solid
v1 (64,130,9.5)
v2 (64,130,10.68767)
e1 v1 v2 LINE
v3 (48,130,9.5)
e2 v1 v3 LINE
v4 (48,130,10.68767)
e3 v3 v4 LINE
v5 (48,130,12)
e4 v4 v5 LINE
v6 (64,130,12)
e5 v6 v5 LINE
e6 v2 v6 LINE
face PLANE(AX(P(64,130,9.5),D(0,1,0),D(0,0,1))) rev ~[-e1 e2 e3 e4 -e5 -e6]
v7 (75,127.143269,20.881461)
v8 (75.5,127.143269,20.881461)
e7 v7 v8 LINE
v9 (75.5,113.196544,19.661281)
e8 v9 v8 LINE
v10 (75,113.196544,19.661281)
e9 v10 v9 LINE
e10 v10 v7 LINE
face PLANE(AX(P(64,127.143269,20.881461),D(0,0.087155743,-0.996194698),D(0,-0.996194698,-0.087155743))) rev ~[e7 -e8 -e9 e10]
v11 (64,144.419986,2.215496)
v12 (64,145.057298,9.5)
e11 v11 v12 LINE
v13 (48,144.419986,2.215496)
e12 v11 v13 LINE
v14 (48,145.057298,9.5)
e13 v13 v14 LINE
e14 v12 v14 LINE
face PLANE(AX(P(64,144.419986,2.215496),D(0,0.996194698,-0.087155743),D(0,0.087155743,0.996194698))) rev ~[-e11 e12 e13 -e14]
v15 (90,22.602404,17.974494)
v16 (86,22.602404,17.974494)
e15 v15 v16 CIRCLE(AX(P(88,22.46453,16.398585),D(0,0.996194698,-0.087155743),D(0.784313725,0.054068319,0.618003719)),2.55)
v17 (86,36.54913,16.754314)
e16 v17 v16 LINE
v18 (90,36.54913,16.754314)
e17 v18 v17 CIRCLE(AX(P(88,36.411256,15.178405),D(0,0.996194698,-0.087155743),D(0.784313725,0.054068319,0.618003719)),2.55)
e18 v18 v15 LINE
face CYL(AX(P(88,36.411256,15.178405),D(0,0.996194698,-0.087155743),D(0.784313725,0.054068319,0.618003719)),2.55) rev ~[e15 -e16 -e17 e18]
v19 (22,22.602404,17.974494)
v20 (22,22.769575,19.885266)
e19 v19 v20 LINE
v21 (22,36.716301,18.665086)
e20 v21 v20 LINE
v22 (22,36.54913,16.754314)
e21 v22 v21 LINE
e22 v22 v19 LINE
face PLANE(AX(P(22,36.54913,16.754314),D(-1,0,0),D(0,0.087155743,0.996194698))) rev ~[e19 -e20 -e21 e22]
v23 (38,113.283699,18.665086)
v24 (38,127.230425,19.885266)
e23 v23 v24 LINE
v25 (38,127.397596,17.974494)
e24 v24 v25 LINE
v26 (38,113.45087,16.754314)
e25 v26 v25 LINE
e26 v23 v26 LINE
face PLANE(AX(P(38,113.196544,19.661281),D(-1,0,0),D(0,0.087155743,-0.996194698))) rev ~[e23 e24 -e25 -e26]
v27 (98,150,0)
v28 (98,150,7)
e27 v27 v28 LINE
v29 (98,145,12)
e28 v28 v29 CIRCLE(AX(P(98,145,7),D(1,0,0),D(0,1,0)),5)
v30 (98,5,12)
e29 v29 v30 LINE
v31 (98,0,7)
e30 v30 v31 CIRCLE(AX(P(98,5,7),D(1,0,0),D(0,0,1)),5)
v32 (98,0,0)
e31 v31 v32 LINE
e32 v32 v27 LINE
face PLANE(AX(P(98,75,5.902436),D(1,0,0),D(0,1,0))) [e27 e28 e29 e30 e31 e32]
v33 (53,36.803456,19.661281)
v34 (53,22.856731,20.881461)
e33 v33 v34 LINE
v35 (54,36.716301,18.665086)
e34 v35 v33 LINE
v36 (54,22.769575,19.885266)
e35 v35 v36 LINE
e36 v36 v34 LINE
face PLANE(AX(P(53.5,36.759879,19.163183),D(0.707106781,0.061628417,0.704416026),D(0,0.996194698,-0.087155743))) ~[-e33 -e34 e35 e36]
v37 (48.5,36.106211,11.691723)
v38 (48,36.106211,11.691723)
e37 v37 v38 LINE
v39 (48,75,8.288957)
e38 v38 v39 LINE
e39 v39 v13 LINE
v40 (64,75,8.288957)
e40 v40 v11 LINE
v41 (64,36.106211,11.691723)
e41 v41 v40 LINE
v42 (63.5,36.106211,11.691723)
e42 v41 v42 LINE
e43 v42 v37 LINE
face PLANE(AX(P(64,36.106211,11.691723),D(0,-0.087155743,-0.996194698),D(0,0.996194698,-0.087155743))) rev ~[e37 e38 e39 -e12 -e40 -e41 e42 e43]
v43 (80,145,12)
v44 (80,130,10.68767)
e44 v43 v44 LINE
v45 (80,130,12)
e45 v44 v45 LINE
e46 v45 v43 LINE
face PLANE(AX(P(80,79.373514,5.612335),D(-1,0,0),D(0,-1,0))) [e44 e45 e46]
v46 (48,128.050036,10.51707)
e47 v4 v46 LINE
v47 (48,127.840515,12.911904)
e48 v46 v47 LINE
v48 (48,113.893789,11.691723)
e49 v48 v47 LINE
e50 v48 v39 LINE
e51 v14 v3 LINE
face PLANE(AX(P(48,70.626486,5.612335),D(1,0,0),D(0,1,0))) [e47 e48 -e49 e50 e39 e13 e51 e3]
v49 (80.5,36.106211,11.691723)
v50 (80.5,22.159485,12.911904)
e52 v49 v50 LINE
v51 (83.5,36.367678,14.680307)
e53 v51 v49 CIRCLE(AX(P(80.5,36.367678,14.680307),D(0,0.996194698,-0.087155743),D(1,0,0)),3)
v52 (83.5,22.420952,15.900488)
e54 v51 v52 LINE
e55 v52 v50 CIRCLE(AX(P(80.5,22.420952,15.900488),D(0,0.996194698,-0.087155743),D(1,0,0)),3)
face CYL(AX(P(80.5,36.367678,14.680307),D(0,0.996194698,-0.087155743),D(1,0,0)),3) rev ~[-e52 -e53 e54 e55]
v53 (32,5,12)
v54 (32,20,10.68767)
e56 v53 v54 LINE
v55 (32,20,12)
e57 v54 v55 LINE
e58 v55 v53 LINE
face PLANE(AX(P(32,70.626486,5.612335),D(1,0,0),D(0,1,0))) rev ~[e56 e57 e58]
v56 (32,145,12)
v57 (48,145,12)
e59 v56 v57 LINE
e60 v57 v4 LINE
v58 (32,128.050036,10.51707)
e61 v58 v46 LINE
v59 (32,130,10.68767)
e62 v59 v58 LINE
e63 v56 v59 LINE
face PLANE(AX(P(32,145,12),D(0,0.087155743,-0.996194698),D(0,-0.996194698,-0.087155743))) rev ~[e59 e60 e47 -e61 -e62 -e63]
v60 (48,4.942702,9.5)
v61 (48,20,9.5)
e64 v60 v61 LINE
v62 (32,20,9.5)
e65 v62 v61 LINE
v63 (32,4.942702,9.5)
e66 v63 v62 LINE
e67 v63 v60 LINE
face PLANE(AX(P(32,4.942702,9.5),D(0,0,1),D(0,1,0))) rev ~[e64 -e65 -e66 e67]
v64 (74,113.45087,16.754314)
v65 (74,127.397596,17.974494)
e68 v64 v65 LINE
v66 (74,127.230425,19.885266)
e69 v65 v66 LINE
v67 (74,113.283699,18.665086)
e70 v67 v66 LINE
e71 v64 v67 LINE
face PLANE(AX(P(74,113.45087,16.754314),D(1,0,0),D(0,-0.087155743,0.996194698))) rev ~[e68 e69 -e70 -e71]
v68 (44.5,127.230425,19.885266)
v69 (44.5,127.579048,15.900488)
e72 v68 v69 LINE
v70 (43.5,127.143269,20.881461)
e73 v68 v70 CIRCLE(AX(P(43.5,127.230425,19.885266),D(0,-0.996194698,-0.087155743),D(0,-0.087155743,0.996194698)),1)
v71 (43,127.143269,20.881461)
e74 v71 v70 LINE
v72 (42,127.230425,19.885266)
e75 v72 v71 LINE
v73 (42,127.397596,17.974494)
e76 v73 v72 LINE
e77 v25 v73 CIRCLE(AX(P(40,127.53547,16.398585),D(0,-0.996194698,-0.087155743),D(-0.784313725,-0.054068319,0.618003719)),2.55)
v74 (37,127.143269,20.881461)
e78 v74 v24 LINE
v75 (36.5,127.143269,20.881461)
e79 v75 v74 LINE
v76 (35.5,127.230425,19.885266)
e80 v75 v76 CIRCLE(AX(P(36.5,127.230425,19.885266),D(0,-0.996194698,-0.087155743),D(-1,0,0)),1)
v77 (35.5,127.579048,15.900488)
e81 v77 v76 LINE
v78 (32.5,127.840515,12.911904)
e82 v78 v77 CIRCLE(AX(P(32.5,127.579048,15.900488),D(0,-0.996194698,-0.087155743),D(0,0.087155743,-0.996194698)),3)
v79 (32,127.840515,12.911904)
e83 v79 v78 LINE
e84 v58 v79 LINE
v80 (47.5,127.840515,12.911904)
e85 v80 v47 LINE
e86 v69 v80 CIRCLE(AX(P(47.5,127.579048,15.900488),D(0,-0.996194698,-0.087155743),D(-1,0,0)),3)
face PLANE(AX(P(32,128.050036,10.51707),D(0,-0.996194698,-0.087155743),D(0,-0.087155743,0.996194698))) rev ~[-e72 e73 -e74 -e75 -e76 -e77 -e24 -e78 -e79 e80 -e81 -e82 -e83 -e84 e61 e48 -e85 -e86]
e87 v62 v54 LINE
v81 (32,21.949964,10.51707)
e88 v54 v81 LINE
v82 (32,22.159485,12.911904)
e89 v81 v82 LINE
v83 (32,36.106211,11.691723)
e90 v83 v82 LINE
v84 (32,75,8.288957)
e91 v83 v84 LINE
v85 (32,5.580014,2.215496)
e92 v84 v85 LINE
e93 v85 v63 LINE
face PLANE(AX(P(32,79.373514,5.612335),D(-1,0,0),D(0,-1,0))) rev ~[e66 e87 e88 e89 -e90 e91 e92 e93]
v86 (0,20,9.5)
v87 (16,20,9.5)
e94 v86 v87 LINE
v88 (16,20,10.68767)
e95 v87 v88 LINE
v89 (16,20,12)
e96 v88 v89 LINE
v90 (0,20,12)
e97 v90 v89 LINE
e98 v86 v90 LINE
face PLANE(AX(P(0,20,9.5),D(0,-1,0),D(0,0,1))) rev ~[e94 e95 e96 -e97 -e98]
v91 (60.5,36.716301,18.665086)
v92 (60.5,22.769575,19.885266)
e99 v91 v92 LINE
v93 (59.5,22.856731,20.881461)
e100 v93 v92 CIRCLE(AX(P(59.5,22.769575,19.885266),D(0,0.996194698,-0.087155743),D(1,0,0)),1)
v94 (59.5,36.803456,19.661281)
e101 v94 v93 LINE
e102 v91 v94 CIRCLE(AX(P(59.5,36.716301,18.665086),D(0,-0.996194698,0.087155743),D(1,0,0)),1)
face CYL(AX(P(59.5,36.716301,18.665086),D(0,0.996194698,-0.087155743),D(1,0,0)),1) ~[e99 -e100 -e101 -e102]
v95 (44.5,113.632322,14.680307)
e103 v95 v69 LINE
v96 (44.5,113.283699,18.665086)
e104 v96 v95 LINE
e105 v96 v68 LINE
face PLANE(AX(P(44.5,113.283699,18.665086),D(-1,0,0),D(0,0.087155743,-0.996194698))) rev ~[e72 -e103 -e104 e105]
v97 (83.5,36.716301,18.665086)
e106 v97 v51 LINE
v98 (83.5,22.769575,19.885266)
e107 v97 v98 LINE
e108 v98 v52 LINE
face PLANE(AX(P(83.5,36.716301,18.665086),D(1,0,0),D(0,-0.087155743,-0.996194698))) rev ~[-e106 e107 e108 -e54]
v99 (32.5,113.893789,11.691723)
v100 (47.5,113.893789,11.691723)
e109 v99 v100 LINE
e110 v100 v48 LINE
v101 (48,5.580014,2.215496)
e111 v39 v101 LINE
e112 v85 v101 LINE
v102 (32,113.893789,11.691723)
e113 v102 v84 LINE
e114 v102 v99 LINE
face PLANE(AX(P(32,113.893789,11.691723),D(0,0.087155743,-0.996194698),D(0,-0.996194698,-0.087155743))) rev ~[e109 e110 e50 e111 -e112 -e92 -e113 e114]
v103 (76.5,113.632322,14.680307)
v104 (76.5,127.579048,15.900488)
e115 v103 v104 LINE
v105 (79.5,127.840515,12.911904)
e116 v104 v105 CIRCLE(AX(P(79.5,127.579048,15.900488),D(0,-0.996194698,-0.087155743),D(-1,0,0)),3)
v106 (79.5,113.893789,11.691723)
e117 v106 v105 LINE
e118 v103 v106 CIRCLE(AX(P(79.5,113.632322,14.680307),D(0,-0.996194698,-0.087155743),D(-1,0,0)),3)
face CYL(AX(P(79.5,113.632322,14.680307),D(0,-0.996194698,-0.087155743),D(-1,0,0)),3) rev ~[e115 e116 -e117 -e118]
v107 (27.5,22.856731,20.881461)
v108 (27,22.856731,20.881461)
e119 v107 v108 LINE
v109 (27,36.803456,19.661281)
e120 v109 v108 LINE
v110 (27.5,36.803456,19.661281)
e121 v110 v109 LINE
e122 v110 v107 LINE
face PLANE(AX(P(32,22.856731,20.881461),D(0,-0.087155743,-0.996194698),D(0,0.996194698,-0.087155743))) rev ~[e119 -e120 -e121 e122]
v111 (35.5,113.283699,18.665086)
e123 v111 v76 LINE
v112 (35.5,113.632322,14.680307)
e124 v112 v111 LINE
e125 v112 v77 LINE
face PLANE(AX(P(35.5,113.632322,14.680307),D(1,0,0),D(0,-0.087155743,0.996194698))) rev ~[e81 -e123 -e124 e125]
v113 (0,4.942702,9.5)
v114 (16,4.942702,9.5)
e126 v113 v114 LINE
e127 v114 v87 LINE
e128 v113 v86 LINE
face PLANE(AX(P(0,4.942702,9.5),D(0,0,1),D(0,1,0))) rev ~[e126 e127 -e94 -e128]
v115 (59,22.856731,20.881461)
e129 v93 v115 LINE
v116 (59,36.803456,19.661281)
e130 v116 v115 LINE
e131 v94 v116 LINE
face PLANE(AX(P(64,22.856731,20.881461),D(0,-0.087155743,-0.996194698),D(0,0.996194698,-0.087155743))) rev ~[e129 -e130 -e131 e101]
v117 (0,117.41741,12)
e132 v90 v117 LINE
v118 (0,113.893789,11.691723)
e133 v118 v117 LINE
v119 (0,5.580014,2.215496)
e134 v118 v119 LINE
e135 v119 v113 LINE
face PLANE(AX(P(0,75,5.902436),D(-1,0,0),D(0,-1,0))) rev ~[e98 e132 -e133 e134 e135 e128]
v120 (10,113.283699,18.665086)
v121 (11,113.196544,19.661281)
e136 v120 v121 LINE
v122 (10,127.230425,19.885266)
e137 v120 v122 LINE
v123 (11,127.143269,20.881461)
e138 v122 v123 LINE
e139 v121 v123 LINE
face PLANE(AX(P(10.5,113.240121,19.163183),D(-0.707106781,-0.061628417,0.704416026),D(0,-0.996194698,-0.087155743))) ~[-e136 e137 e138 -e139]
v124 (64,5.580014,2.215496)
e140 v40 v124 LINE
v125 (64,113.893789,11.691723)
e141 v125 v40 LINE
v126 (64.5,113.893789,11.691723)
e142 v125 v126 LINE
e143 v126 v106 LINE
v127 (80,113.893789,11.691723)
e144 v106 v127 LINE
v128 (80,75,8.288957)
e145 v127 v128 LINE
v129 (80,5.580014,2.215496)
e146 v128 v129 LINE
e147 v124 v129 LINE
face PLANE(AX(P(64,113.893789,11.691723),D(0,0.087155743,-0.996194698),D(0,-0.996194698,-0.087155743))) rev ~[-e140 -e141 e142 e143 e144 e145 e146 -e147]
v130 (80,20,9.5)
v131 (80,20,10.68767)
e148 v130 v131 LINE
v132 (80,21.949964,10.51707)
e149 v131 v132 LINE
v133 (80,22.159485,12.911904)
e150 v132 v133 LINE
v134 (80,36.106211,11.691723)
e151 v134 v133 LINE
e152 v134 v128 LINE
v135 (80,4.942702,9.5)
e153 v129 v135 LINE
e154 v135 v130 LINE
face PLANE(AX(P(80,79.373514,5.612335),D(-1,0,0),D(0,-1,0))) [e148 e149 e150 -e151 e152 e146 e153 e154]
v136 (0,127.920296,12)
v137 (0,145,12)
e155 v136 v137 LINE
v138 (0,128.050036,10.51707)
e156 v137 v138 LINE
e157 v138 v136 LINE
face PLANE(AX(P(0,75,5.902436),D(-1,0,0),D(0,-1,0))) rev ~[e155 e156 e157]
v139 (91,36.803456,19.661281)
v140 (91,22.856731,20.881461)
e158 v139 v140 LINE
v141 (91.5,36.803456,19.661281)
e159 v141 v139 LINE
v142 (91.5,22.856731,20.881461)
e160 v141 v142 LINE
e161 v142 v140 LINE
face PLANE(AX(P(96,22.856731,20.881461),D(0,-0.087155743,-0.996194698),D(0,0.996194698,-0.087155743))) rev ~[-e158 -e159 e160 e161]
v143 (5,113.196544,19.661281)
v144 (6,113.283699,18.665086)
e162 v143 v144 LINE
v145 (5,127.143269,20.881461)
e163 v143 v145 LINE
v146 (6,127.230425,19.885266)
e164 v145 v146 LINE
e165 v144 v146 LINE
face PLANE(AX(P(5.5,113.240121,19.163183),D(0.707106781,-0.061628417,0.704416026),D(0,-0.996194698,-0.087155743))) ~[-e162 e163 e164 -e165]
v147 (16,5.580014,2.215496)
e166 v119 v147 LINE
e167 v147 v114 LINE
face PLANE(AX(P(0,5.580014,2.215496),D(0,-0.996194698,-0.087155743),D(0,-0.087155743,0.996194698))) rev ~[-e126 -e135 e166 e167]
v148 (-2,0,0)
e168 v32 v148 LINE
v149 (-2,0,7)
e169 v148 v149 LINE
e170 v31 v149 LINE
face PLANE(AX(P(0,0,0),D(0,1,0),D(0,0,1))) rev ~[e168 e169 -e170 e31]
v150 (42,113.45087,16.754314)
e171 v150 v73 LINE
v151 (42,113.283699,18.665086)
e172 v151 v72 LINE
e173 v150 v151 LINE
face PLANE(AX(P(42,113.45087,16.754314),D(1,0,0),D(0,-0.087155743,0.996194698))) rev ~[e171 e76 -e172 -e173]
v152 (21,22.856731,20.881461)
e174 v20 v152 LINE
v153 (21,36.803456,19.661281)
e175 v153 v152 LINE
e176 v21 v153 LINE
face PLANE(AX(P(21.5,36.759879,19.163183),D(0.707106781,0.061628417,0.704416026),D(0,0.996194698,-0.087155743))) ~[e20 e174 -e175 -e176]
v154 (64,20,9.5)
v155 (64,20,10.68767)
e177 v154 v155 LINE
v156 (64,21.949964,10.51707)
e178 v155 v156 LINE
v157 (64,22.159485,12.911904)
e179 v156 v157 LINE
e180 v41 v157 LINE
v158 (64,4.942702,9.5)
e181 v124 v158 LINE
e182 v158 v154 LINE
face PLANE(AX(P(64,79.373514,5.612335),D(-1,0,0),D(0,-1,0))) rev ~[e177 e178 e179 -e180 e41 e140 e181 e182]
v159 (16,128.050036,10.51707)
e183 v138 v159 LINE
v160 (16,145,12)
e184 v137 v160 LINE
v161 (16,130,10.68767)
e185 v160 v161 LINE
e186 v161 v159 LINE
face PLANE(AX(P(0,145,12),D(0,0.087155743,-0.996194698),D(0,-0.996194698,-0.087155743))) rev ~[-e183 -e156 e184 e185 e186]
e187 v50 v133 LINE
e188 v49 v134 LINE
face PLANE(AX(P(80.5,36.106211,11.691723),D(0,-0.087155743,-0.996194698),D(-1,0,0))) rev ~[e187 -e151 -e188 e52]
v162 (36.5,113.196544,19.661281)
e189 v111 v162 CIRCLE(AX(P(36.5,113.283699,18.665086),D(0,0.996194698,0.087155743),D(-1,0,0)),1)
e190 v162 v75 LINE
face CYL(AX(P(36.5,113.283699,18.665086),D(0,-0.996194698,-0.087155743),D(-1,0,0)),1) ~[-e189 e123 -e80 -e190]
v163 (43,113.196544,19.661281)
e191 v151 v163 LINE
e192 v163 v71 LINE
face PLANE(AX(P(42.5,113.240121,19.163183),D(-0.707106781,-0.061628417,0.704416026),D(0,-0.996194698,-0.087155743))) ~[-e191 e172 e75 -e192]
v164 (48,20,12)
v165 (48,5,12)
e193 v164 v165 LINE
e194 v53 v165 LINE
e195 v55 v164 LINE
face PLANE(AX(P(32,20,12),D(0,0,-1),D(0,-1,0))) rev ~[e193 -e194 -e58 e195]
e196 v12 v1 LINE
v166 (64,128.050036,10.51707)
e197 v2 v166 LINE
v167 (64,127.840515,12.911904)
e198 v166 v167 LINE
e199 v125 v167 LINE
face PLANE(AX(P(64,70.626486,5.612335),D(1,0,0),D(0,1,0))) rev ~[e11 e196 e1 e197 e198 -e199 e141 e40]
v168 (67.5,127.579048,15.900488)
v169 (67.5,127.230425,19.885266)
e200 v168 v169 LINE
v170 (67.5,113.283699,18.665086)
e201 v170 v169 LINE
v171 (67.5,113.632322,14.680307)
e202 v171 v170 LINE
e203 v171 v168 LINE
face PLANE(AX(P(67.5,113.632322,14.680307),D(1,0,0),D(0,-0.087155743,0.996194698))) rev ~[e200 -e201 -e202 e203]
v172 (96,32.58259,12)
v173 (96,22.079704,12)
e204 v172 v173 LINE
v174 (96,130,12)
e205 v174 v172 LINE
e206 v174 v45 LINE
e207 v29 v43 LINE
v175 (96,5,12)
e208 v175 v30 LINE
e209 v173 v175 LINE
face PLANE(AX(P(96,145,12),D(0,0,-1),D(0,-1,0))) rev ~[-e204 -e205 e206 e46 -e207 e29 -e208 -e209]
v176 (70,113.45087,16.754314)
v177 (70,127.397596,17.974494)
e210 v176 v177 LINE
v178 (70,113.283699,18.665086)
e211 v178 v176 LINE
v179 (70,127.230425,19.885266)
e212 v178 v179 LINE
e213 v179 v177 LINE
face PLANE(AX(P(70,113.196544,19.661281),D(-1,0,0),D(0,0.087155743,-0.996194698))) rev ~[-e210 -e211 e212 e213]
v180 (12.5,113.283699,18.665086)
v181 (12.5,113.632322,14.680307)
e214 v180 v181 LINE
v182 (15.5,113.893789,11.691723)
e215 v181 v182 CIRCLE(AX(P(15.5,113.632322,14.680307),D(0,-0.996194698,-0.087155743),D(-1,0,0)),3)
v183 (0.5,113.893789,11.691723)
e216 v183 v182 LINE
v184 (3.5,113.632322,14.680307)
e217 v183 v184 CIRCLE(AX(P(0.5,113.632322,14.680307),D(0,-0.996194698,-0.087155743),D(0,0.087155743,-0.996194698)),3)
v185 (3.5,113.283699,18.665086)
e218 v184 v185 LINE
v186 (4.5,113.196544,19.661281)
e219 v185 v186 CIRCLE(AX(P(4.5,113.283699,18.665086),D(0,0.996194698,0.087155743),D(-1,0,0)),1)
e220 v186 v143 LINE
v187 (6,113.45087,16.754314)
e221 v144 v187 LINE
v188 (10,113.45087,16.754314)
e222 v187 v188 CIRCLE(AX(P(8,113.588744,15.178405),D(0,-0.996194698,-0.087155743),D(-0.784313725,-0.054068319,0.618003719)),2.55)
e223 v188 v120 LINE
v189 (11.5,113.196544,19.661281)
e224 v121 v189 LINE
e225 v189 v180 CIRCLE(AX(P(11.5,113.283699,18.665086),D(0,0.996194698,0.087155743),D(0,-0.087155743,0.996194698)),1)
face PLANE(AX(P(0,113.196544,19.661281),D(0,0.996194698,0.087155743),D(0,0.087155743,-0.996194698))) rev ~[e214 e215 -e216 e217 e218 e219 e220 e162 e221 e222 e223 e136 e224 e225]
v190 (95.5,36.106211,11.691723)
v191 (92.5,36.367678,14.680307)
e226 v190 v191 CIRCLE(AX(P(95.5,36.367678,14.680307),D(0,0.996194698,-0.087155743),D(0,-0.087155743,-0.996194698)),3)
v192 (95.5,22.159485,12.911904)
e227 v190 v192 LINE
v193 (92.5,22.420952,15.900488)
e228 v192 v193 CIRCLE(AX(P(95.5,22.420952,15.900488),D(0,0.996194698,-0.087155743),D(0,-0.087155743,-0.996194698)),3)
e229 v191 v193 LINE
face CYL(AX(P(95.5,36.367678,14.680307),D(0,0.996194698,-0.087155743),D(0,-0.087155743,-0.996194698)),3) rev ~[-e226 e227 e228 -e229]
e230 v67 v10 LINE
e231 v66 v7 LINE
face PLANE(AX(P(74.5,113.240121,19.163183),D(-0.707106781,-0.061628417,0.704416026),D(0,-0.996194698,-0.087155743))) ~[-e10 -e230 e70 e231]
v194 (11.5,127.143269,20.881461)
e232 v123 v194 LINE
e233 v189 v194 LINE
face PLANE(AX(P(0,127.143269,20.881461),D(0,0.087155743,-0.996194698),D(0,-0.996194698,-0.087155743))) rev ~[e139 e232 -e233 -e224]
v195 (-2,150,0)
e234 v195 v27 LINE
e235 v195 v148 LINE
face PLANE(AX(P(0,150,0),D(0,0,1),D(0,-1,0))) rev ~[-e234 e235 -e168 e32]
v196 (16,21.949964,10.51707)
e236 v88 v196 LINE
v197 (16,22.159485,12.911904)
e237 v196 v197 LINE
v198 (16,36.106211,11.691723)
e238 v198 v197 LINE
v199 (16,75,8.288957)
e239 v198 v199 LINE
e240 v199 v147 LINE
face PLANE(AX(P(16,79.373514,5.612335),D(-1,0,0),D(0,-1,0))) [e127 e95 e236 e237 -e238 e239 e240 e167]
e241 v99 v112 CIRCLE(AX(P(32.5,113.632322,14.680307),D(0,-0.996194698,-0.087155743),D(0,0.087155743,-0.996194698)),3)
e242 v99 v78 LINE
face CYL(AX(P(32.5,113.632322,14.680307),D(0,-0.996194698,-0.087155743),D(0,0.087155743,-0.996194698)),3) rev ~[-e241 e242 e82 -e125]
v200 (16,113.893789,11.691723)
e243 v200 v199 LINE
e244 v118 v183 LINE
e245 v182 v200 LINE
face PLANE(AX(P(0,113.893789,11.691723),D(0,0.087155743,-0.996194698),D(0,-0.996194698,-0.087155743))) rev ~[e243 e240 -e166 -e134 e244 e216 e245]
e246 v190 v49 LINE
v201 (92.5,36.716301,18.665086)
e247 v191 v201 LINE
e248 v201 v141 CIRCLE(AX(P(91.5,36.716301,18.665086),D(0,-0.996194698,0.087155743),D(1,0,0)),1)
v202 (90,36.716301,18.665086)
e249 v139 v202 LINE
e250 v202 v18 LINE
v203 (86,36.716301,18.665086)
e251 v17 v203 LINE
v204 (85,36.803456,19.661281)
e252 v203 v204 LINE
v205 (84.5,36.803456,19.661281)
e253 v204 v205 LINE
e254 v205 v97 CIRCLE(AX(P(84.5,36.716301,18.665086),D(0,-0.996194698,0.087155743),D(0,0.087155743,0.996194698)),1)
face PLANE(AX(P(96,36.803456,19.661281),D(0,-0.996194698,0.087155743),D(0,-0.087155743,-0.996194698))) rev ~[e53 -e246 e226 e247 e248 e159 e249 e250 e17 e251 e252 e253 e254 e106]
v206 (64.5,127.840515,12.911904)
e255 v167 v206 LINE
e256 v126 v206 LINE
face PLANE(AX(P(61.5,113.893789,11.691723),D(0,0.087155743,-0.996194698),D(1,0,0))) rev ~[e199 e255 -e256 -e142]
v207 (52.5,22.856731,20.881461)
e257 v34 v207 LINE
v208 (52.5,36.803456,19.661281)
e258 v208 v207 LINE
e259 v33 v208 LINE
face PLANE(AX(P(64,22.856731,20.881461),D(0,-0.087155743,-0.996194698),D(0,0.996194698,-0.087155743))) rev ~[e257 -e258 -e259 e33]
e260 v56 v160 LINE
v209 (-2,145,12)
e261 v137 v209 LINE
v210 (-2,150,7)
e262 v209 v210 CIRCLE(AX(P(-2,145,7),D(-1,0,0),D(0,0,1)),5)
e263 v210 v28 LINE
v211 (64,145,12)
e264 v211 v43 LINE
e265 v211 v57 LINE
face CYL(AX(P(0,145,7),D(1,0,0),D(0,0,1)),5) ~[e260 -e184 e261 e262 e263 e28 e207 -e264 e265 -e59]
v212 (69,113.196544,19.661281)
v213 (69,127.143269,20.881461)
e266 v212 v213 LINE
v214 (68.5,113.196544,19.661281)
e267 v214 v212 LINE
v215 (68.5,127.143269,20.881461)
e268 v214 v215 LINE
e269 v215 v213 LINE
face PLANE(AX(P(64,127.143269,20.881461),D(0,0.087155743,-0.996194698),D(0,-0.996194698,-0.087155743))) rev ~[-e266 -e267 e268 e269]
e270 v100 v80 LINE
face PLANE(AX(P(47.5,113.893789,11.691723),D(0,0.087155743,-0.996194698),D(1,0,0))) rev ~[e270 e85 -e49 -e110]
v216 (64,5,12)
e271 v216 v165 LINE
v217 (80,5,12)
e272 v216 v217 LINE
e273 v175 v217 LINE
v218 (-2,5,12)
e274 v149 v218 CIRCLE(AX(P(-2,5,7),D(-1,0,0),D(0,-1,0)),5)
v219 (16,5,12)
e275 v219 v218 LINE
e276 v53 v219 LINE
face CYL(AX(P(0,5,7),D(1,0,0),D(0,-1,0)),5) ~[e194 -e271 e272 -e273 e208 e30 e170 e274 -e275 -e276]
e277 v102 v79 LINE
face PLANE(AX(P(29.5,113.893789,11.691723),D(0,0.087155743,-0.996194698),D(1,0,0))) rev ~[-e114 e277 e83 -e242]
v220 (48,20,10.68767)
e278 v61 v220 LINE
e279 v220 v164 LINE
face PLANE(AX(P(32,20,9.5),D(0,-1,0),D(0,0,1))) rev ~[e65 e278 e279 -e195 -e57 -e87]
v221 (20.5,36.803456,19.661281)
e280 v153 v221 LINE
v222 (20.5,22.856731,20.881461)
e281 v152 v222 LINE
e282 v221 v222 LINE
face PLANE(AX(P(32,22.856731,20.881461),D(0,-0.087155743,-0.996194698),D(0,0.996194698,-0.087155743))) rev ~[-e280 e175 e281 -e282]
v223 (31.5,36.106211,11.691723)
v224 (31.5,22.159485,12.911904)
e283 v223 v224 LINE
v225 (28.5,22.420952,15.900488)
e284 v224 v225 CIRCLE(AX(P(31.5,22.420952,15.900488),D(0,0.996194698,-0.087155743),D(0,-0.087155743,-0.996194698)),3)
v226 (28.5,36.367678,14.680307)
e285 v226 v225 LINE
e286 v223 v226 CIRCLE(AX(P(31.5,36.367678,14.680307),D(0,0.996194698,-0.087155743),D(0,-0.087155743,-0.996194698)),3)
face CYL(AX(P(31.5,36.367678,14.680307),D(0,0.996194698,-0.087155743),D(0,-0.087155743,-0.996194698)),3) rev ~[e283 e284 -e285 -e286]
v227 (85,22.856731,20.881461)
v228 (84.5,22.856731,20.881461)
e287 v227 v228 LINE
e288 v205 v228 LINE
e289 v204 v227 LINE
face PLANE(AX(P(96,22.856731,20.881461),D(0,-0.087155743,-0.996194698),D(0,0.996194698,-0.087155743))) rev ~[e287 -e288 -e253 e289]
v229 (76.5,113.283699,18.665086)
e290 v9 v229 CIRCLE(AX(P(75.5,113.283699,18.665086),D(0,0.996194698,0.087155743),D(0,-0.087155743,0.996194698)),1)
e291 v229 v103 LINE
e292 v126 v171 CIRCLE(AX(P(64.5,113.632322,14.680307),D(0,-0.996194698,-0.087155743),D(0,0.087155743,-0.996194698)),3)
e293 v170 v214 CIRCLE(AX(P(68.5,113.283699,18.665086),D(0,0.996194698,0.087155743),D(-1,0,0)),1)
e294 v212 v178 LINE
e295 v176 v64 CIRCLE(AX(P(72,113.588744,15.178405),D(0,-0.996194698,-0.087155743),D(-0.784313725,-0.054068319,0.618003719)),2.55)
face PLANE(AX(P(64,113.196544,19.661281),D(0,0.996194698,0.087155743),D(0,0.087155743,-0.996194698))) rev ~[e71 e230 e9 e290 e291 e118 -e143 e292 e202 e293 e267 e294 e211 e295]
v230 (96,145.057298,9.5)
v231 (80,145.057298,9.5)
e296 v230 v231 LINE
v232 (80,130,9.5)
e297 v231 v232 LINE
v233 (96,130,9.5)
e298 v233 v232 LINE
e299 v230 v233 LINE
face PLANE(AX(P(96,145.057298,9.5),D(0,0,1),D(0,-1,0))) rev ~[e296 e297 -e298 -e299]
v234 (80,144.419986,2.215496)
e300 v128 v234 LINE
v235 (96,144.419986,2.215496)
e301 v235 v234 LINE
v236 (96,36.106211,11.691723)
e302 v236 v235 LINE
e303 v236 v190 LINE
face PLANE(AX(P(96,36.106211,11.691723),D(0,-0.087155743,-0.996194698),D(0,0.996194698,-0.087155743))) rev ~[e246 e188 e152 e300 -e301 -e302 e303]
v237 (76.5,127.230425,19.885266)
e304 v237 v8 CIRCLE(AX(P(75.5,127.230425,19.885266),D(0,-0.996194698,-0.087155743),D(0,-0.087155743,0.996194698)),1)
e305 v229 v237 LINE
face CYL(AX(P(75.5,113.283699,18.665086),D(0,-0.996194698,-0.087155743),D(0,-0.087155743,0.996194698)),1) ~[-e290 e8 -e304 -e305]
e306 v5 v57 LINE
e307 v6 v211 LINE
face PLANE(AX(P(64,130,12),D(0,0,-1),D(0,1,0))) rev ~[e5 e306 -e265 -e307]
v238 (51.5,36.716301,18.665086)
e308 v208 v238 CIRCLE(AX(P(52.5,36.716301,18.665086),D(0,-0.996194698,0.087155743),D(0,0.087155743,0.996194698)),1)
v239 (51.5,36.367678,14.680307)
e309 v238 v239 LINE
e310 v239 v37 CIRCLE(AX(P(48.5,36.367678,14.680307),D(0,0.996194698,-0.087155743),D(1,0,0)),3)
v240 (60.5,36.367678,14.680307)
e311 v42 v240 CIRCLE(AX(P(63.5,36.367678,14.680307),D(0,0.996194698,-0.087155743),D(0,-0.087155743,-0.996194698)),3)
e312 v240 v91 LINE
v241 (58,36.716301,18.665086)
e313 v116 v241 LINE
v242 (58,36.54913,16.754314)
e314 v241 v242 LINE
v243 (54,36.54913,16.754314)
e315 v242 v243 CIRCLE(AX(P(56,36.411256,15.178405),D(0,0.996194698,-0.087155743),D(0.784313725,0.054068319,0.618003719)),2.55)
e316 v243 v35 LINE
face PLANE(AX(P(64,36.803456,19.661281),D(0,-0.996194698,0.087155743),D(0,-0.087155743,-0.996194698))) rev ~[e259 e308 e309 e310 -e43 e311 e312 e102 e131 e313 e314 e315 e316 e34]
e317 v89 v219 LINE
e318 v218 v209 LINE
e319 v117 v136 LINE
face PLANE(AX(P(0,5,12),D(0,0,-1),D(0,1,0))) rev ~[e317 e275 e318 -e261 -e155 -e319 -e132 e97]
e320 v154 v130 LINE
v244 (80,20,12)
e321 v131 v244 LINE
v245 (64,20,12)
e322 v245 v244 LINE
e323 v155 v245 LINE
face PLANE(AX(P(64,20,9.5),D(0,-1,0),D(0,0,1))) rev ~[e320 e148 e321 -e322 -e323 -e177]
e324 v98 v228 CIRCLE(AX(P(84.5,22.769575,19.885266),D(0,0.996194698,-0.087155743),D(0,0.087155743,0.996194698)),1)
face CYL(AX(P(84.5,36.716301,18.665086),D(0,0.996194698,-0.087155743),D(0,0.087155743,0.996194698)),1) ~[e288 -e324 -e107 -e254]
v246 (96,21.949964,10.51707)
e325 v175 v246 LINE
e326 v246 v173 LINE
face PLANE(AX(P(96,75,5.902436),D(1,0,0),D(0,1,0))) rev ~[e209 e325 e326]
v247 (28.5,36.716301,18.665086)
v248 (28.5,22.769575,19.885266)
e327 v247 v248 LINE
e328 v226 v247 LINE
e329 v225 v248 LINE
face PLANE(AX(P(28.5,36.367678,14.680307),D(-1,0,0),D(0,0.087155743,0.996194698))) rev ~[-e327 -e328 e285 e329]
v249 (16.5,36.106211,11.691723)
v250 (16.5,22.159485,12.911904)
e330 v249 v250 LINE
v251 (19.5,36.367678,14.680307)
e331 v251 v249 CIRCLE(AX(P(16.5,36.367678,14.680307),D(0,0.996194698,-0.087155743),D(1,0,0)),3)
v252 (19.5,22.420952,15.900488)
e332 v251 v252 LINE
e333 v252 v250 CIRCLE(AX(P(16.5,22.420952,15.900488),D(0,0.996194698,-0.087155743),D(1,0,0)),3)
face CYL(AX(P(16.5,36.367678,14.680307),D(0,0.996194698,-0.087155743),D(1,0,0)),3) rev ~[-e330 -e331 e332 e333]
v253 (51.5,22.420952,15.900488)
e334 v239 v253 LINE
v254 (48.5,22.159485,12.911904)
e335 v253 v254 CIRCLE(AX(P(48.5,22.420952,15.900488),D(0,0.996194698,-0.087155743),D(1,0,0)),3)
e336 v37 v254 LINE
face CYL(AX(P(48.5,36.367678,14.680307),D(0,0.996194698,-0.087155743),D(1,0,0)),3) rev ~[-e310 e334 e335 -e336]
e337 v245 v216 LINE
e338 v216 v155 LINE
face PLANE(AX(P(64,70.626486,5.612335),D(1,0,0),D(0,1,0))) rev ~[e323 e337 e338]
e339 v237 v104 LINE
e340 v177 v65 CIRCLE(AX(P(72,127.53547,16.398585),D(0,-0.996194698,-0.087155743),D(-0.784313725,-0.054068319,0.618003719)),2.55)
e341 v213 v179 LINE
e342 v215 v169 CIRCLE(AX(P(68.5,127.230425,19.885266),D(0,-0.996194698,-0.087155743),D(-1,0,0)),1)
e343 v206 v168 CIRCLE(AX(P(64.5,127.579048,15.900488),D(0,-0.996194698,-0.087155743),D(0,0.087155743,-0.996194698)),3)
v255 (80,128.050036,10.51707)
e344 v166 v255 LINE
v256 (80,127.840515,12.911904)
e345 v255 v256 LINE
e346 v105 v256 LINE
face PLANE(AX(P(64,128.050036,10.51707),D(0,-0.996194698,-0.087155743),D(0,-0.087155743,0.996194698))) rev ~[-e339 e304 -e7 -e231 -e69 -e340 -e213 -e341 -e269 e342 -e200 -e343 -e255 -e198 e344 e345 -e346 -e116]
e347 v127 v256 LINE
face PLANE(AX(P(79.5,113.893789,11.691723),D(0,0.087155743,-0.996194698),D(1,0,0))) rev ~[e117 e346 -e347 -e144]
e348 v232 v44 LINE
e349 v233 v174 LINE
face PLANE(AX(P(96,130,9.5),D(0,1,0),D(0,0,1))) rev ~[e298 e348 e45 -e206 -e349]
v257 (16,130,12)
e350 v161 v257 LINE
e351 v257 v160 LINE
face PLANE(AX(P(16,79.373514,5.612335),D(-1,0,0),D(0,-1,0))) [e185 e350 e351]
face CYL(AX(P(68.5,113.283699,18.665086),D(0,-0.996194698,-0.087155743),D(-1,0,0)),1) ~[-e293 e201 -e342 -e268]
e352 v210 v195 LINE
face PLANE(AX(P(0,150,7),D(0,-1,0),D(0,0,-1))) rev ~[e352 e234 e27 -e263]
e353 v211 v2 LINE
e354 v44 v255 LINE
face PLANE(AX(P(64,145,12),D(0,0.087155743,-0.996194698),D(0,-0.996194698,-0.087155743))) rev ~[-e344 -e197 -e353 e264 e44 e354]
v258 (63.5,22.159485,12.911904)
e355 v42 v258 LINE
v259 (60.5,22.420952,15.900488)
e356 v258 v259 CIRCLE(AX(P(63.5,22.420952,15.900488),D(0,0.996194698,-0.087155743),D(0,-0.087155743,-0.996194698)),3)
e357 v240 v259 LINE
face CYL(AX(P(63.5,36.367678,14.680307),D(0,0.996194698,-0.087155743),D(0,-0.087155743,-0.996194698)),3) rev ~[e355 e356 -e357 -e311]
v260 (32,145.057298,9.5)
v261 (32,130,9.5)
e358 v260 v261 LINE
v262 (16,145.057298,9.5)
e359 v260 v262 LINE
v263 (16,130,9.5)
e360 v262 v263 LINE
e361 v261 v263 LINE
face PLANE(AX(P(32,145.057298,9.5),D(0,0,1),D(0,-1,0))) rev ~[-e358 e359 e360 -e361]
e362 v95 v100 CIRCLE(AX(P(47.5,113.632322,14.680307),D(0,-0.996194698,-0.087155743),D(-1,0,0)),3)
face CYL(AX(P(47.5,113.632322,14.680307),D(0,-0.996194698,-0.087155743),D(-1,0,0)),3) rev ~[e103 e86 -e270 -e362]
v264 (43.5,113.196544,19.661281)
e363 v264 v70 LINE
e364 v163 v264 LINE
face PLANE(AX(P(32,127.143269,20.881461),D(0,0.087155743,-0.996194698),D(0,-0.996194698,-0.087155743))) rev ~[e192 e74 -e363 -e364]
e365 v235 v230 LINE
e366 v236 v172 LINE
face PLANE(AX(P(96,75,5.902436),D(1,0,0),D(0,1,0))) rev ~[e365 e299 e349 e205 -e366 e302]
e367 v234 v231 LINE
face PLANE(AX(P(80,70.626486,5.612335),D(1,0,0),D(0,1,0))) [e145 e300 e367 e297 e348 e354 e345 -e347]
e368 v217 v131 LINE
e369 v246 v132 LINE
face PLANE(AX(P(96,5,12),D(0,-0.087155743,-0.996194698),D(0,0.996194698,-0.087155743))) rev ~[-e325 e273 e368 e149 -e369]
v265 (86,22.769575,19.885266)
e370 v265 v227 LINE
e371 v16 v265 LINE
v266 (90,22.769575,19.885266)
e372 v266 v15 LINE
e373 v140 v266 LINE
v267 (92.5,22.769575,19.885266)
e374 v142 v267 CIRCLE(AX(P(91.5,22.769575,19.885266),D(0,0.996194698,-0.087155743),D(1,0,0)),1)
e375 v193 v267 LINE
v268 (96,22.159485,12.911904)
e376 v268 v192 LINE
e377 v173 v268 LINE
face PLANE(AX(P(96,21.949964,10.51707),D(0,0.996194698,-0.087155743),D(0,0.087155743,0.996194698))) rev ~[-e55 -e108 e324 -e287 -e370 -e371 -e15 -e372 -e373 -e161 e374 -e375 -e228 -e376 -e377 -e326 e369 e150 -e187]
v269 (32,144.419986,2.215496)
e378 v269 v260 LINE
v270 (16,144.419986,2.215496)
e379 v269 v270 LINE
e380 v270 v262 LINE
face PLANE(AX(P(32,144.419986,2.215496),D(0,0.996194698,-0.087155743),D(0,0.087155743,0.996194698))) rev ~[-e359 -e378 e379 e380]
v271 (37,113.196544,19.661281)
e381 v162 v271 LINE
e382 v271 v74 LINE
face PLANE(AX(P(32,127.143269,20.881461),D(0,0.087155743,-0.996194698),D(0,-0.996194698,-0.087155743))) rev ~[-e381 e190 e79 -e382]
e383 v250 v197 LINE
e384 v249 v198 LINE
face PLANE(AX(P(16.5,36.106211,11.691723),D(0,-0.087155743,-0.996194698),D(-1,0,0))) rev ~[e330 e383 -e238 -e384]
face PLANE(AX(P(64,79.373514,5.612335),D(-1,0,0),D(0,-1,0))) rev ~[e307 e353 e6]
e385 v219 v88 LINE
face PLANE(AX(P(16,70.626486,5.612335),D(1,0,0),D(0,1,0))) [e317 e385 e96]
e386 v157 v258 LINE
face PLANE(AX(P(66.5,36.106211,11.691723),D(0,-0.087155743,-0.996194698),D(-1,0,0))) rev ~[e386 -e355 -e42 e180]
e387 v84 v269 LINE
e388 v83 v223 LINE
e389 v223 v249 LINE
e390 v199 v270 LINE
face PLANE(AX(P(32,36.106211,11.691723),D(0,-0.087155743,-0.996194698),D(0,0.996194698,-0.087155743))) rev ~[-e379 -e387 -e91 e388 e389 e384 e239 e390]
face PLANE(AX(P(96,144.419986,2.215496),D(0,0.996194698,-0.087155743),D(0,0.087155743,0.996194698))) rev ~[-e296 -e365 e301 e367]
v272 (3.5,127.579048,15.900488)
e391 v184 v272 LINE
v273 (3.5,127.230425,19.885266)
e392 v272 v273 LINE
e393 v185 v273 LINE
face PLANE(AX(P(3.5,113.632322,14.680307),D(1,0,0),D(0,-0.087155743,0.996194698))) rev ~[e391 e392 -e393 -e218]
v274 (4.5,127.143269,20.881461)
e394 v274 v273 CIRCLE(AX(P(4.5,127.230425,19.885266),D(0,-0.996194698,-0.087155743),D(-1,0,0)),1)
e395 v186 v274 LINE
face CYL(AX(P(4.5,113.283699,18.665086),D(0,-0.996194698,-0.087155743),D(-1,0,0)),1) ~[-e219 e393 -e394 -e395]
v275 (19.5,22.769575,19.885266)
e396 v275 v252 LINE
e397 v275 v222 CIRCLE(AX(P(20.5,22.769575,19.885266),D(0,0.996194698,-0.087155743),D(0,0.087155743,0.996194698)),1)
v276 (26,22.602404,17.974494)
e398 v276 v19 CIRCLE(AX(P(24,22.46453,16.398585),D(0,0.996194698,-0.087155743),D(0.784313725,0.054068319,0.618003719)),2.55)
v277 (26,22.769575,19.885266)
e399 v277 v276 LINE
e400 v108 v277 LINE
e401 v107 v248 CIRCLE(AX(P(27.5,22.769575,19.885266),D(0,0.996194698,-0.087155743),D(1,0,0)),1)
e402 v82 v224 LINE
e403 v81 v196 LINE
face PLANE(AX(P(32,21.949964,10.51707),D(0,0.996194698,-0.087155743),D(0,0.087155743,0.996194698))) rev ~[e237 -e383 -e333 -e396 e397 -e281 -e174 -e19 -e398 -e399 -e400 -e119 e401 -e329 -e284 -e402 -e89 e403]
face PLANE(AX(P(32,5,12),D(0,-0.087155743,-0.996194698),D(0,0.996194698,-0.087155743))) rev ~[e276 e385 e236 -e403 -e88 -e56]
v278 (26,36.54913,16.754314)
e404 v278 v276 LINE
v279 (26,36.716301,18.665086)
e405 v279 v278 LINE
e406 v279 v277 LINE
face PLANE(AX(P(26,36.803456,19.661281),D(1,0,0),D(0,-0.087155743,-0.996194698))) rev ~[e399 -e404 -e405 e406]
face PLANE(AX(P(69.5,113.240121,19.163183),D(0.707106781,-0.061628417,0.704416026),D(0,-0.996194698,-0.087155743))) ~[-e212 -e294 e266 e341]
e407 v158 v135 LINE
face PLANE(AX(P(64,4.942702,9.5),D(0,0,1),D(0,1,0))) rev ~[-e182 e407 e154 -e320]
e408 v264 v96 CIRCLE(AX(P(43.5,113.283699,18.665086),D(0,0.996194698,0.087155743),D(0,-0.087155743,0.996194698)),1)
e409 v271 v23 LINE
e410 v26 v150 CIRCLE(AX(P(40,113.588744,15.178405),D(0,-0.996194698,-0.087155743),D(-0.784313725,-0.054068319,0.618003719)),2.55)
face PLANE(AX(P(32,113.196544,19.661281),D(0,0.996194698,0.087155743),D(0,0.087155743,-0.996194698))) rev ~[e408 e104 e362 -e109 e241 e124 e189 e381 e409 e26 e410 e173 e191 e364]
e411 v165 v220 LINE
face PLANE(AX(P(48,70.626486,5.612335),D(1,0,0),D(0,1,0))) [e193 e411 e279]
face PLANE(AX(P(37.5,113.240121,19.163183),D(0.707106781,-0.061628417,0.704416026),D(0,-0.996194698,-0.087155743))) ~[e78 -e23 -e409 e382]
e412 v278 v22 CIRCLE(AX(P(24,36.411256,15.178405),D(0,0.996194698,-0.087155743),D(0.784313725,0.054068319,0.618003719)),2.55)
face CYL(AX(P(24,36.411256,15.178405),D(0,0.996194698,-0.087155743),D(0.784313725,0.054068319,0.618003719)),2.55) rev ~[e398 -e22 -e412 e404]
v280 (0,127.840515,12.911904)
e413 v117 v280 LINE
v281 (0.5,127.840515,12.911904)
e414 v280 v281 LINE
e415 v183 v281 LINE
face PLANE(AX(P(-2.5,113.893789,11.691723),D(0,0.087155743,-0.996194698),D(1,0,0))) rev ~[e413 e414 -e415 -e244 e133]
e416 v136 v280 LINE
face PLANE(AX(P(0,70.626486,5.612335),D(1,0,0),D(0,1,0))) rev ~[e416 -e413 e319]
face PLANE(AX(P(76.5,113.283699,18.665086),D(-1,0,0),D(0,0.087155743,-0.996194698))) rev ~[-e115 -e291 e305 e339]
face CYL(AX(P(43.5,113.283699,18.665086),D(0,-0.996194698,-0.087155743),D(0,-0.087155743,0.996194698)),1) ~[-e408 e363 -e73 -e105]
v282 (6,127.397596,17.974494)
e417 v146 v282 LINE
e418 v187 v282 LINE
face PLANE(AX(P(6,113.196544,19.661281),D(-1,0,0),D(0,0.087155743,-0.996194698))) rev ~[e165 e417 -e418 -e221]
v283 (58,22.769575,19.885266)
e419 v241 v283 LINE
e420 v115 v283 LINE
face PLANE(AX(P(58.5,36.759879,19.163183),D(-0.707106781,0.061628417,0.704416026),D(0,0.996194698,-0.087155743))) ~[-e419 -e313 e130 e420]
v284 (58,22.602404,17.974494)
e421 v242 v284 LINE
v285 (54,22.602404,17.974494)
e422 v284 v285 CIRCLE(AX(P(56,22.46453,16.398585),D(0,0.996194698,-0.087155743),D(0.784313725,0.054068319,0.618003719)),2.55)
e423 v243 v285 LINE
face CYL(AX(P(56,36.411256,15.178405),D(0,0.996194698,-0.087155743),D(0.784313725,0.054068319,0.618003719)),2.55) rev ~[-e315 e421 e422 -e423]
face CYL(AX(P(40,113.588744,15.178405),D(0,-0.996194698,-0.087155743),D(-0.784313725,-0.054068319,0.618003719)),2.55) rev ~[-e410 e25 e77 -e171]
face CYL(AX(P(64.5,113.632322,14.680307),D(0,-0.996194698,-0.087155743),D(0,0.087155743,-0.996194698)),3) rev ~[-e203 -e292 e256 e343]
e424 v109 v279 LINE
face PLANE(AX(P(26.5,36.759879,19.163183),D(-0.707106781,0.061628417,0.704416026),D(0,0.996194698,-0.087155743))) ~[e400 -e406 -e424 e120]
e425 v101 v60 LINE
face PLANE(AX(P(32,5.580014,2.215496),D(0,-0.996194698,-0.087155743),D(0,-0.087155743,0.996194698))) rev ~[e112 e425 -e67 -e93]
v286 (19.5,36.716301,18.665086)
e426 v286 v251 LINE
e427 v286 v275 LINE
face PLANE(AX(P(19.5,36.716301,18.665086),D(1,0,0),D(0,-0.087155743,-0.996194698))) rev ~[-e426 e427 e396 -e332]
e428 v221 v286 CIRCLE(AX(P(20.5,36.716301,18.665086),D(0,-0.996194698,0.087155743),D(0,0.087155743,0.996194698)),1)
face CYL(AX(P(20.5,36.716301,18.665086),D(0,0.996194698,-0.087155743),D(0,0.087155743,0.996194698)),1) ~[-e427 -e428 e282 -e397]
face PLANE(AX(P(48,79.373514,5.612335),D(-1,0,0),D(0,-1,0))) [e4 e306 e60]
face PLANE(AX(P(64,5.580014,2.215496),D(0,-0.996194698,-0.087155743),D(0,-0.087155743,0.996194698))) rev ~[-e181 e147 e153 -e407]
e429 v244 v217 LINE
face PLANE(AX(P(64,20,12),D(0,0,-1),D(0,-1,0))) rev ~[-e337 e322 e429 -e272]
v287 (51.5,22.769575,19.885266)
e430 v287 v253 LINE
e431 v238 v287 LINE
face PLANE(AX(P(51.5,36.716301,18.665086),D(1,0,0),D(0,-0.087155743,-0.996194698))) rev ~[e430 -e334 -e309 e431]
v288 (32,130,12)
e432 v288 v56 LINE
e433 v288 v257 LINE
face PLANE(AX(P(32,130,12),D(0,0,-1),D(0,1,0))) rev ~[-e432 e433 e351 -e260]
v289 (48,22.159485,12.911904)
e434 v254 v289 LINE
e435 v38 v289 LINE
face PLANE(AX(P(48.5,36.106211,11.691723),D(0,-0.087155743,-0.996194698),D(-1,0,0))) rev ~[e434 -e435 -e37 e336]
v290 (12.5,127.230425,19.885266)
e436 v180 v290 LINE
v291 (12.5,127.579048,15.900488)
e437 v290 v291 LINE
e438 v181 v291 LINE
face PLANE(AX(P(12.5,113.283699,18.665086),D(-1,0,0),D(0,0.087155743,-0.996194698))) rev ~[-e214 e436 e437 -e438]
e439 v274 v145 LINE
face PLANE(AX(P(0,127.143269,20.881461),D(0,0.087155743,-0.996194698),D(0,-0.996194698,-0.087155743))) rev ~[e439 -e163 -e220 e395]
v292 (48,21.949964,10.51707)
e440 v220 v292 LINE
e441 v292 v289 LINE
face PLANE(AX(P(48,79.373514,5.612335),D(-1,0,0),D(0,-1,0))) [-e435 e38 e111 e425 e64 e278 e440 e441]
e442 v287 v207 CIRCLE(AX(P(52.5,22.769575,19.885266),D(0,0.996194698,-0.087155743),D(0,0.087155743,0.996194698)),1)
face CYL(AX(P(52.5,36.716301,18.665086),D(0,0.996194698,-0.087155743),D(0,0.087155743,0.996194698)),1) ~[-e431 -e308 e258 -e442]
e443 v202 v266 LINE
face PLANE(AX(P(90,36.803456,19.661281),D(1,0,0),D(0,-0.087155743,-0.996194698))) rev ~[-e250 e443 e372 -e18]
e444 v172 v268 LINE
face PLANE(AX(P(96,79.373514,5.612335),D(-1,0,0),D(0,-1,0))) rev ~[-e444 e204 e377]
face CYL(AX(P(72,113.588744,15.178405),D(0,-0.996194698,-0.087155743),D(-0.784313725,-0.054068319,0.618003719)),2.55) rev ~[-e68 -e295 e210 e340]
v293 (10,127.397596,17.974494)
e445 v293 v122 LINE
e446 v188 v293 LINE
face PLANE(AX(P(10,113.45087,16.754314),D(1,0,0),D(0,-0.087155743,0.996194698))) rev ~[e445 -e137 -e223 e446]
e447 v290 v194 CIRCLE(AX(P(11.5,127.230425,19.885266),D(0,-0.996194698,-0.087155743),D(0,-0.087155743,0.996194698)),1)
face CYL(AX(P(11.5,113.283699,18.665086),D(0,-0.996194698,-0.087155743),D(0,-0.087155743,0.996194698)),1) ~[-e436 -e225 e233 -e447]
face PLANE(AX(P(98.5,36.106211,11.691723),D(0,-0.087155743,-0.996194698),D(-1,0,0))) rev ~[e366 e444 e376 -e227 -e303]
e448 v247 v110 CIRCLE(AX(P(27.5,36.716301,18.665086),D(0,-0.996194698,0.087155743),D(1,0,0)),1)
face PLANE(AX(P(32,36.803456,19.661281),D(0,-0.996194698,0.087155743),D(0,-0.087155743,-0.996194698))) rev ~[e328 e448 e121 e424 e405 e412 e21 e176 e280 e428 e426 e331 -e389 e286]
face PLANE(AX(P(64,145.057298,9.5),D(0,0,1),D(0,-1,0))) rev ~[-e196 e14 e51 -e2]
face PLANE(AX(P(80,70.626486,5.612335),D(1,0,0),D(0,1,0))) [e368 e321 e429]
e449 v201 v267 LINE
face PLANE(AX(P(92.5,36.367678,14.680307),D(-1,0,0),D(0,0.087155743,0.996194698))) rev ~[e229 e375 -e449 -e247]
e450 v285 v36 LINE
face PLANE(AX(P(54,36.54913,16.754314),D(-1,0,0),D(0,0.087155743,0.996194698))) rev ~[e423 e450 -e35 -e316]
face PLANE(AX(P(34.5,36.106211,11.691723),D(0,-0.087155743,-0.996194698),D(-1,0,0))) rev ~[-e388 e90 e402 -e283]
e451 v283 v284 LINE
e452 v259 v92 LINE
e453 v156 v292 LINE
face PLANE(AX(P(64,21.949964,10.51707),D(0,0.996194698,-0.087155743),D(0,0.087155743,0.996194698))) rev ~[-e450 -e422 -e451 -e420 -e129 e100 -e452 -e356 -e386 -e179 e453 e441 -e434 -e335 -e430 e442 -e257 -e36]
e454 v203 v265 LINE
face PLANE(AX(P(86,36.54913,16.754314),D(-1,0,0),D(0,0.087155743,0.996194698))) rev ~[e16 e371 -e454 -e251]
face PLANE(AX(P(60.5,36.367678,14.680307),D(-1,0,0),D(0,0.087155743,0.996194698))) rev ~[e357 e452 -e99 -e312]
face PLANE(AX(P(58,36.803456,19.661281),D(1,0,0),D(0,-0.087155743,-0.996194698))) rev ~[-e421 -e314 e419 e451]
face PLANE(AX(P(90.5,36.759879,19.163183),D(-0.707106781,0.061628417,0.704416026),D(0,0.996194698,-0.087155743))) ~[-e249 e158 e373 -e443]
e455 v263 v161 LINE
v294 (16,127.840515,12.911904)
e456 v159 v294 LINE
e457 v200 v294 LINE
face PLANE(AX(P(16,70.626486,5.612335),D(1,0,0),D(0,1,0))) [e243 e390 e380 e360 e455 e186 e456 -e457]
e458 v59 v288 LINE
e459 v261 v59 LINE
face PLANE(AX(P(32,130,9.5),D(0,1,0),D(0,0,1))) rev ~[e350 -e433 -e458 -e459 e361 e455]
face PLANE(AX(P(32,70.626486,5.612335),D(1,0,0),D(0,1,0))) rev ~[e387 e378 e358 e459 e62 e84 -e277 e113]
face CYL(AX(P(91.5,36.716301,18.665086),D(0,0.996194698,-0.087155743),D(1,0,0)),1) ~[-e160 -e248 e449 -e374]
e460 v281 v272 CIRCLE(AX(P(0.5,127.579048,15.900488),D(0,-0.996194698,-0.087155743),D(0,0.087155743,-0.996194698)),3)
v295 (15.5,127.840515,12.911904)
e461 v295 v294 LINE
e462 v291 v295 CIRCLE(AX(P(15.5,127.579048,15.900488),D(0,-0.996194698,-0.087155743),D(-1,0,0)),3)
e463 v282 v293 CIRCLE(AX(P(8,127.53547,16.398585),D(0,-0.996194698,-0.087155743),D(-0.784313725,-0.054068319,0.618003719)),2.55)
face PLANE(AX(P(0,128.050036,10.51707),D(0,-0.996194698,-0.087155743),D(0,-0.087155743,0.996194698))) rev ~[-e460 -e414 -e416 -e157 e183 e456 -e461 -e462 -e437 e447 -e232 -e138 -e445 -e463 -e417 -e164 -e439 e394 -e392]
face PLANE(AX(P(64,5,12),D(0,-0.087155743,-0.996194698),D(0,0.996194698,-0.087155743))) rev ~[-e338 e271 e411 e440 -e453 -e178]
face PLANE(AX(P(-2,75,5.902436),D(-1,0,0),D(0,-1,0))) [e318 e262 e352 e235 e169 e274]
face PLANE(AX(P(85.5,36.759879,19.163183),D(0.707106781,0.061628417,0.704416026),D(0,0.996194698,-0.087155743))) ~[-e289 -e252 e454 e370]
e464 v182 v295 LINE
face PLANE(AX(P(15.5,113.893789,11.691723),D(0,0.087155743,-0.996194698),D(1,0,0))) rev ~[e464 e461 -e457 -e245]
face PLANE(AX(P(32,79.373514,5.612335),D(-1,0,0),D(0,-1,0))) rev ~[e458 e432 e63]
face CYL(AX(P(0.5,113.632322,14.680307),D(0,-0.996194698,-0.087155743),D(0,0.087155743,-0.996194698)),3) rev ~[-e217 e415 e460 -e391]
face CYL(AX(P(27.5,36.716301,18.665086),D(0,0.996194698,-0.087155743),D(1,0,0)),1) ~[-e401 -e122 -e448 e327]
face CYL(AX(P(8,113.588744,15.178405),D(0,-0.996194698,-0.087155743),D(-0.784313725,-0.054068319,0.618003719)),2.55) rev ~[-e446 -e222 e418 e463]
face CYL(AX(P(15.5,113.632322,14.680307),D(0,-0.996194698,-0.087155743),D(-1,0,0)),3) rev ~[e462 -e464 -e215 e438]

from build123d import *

# Parameters (mm, degrees)
F1_DEPTH  = 16
F3_DEPTH  = 25
F4_SIZE   = 1
F11_ANGLE = 180
F14_DEPTH = 2
F16_DEPTH = 2


with BuildPart() as f1:
    # F0 (on Right) → F1 (new body)
    with BuildSketch(Plane.YZ):
        with BuildLine():
            Line((0, 7), (0, 0))
            Line((0, 0), (150, 0))
            Line((150, 0), (150, 7))
            ThreePointArc((150, 7), (148.5355339059, 10.5355339059), (145, 12))
            Line((145, 12), (128.050036002, 10.517070303))
            Line((128.050036002, 10.517070303), (127.1432693018, 20.8814611121))
            Line((127.1432693018, 20.8814611121), (113.1965435286, 19.6612807136))
            Line((113.1965435286, 19.6612807136), (113.8937894705, 11.6917231289))
            Line((113.8937894705, 11.6917231289), (5.5800139851, 2.2154956702))
            Line((5.5800139851, 2.2154956702), (4.9427024368, 9.5))
            Line((4.9427024368, 9.5), (20, 9.5))
            Line((20, 9.5), (20, 12))
            Line((20, 12), (5, 12))
            ThreePointArc((5, 12), (1.4644660941, 10.5355339059), (0, 7))
        make_face()
    extrude(amount=F1_DEPTH)

    # F2 (on face) → F3 (cut)
    with BuildSketch(Plane(origin=(0, 114.0437613881, 9.9775362673), x_dir=(1, 0, 0), z_dir=(0, -0.9961946981, -0.0871557427))):
        with BuildLine():
            Line((6, 9.7207347769), (6, 6.8026639789))
            ThreePointArc((6, 6.8026639789), (8, 2.6707347769), (10, 6.8026639789))
            Line((10, 6.8026639789), (10, 9.7207347769))
            Line((10, 9.7207347769), (11.5, 9.7207347769))
            ThreePointArc((11.5, 9.7207347769), (12.2071067812, 9.4278415581), (12.5, 8.7207347769))
            Line((12.5, 8.7207347769), (12.5, 4.7207347769))
            ThreePointArc((12.5, 4.7207347769), (13.3786796564, 2.5994144334), (15.5, 1.7207347769))
            Line((15.5, 1.7207347769), (18.5, 1.7207347769))
            Line((18.5, 1.7207347769), (18.5, 10.7207347769))
            Line((18.5, 10.7207347769), (-2.5, 10.7207347769))
            Line((-2.5, 10.7207347769), (-2.5, 1.7207347769))
            Line((-2.5, 1.7207347769), (0.5, 1.7207347769))
            ThreePointArc((0.5, 1.7207347769), (2.6213203436, 2.5994144334), (3.5, 4.7207347769))
            Line((3.5, 4.7207347769), (3.5, 8.7207347769))
            ThreePointArc((3.5, 8.7207347769), (3.7928932188, 9.4278415581), (4.5, 9.7207347769))
            Line((4.5, 9.7207347769), (6, 9.7207347769))
        make_face()
    extrude(amount=-F3_DEPTH, mode=Mode.SUBTRACT)

    # F4
    f4_edges = [f1.edges().sort_by_distance(p)[0] for p in [
        (6, 120.169906, 20.271371),
        (10, 120.169906, 20.271371),
    ]]
    chamfer(f4_edges, length=F4_SIZE)


with BuildPart() as f5_1:
    # F5: copy of F1
    add(f1.part.moved(Location((32, 0, 0))))


with BuildPart() as f6_1:
    # F6: copy of F5_1
    add(f5_1.part.moved(Location((32, 0, 0))))


with BuildPart() as f7_1:
    # F7: copy of F1
    add(f1.part.moved(Location((0, 160, 0))))


with BuildPart() as f8_1:
    # F8: copy of F5_1
    add(f5_1.part.moved(Location((0, 160, 0))))


with BuildPart() as f9_1:
    # F9: copy of F6_1
    add(f6_1.part.moved(Location((0, 160, 0))))


with BuildPart() as f8_1_1:
    # F11: moved
    add(f8_1.part.rotate(Axis((0, 0, 25), (0, 0, 1)), F11_ANGLE))


with BuildPart() as f9_1_1:
    # F11: moved
    add(f9_1.part.rotate(Axis((0, 0, 25), (0, 0, 1)), F11_ANGLE))


with BuildPart() as f7_1_1:
    # F11: moved
    add(f7_1.part.rotate(Axis((0, 0, 25), (0, 0, 1)), F11_ANGLE))


with BuildPart() as f7_1_2:
    # F12: moved
    add(f7_1_1.part.moved(Location((96, 310, 0))))

    # F13 (on face) → F14 (join)
    with BuildSketch(Plane.YZ.offset(96)):
        with BuildLine():
            Line((0, 7), (0, 0))
            Line((0, 0), (150, 0))
            Line((150, 0), (150, 7))
            ThreePointArc((150, 7), (148.5355339059, 10.5355339059), (145, 12))
            Line((145, 12), (5, 12))
            ThreePointArc((5, 12), (1.4644660941, 10.5355339059), (0, 7))
        make_face()
    extrude(amount=F14_DEPTH)


with BuildPart() as f8_1_2:
    # F12: moved
    add(f8_1_1.part.moved(Location((96, 310, 0))))


with BuildPart() as f9_1_2:
    # F12: moved
    add(f9_1_1.part.moved(Location((96, 310, 0))))


with BuildPart() as f1_1:
    add(f1.part)

    add(f5_1.part)  # F16 merges F5_1

    add(f6_1.part)  # F16 merges F6_1

    add(f7_1_2.part)  # F16 merges F7_1

    add(f8_1_2.part)  # F16 merges F8_1

    add(f9_1_2.part)  # F16 merges F9_1
    # F15 (on face) → F16 (join)
    with BuildSketch(Plane(origin=(0, 0, 0), x_dir=(0, -1, 0), z_dir=(-1, 0, 0))):
        with BuildLine():
            Line((-150, 0), (0, 0))
            Line((0, 0), (0, 7))
            ThreePointArc((0, 7), (-1.4644660941, 10.5355339059), (-5, 12))
            Line((-5, 12), (-145, 12))
            ThreePointArc((-145, 12), (-148.5355339059, 10.5355339059), (-150, 7))
            Line((-150, 7), (-150, 0))
        make_face()
    extrude(amount=F16_DEPTH)


solid = f1_1.part
